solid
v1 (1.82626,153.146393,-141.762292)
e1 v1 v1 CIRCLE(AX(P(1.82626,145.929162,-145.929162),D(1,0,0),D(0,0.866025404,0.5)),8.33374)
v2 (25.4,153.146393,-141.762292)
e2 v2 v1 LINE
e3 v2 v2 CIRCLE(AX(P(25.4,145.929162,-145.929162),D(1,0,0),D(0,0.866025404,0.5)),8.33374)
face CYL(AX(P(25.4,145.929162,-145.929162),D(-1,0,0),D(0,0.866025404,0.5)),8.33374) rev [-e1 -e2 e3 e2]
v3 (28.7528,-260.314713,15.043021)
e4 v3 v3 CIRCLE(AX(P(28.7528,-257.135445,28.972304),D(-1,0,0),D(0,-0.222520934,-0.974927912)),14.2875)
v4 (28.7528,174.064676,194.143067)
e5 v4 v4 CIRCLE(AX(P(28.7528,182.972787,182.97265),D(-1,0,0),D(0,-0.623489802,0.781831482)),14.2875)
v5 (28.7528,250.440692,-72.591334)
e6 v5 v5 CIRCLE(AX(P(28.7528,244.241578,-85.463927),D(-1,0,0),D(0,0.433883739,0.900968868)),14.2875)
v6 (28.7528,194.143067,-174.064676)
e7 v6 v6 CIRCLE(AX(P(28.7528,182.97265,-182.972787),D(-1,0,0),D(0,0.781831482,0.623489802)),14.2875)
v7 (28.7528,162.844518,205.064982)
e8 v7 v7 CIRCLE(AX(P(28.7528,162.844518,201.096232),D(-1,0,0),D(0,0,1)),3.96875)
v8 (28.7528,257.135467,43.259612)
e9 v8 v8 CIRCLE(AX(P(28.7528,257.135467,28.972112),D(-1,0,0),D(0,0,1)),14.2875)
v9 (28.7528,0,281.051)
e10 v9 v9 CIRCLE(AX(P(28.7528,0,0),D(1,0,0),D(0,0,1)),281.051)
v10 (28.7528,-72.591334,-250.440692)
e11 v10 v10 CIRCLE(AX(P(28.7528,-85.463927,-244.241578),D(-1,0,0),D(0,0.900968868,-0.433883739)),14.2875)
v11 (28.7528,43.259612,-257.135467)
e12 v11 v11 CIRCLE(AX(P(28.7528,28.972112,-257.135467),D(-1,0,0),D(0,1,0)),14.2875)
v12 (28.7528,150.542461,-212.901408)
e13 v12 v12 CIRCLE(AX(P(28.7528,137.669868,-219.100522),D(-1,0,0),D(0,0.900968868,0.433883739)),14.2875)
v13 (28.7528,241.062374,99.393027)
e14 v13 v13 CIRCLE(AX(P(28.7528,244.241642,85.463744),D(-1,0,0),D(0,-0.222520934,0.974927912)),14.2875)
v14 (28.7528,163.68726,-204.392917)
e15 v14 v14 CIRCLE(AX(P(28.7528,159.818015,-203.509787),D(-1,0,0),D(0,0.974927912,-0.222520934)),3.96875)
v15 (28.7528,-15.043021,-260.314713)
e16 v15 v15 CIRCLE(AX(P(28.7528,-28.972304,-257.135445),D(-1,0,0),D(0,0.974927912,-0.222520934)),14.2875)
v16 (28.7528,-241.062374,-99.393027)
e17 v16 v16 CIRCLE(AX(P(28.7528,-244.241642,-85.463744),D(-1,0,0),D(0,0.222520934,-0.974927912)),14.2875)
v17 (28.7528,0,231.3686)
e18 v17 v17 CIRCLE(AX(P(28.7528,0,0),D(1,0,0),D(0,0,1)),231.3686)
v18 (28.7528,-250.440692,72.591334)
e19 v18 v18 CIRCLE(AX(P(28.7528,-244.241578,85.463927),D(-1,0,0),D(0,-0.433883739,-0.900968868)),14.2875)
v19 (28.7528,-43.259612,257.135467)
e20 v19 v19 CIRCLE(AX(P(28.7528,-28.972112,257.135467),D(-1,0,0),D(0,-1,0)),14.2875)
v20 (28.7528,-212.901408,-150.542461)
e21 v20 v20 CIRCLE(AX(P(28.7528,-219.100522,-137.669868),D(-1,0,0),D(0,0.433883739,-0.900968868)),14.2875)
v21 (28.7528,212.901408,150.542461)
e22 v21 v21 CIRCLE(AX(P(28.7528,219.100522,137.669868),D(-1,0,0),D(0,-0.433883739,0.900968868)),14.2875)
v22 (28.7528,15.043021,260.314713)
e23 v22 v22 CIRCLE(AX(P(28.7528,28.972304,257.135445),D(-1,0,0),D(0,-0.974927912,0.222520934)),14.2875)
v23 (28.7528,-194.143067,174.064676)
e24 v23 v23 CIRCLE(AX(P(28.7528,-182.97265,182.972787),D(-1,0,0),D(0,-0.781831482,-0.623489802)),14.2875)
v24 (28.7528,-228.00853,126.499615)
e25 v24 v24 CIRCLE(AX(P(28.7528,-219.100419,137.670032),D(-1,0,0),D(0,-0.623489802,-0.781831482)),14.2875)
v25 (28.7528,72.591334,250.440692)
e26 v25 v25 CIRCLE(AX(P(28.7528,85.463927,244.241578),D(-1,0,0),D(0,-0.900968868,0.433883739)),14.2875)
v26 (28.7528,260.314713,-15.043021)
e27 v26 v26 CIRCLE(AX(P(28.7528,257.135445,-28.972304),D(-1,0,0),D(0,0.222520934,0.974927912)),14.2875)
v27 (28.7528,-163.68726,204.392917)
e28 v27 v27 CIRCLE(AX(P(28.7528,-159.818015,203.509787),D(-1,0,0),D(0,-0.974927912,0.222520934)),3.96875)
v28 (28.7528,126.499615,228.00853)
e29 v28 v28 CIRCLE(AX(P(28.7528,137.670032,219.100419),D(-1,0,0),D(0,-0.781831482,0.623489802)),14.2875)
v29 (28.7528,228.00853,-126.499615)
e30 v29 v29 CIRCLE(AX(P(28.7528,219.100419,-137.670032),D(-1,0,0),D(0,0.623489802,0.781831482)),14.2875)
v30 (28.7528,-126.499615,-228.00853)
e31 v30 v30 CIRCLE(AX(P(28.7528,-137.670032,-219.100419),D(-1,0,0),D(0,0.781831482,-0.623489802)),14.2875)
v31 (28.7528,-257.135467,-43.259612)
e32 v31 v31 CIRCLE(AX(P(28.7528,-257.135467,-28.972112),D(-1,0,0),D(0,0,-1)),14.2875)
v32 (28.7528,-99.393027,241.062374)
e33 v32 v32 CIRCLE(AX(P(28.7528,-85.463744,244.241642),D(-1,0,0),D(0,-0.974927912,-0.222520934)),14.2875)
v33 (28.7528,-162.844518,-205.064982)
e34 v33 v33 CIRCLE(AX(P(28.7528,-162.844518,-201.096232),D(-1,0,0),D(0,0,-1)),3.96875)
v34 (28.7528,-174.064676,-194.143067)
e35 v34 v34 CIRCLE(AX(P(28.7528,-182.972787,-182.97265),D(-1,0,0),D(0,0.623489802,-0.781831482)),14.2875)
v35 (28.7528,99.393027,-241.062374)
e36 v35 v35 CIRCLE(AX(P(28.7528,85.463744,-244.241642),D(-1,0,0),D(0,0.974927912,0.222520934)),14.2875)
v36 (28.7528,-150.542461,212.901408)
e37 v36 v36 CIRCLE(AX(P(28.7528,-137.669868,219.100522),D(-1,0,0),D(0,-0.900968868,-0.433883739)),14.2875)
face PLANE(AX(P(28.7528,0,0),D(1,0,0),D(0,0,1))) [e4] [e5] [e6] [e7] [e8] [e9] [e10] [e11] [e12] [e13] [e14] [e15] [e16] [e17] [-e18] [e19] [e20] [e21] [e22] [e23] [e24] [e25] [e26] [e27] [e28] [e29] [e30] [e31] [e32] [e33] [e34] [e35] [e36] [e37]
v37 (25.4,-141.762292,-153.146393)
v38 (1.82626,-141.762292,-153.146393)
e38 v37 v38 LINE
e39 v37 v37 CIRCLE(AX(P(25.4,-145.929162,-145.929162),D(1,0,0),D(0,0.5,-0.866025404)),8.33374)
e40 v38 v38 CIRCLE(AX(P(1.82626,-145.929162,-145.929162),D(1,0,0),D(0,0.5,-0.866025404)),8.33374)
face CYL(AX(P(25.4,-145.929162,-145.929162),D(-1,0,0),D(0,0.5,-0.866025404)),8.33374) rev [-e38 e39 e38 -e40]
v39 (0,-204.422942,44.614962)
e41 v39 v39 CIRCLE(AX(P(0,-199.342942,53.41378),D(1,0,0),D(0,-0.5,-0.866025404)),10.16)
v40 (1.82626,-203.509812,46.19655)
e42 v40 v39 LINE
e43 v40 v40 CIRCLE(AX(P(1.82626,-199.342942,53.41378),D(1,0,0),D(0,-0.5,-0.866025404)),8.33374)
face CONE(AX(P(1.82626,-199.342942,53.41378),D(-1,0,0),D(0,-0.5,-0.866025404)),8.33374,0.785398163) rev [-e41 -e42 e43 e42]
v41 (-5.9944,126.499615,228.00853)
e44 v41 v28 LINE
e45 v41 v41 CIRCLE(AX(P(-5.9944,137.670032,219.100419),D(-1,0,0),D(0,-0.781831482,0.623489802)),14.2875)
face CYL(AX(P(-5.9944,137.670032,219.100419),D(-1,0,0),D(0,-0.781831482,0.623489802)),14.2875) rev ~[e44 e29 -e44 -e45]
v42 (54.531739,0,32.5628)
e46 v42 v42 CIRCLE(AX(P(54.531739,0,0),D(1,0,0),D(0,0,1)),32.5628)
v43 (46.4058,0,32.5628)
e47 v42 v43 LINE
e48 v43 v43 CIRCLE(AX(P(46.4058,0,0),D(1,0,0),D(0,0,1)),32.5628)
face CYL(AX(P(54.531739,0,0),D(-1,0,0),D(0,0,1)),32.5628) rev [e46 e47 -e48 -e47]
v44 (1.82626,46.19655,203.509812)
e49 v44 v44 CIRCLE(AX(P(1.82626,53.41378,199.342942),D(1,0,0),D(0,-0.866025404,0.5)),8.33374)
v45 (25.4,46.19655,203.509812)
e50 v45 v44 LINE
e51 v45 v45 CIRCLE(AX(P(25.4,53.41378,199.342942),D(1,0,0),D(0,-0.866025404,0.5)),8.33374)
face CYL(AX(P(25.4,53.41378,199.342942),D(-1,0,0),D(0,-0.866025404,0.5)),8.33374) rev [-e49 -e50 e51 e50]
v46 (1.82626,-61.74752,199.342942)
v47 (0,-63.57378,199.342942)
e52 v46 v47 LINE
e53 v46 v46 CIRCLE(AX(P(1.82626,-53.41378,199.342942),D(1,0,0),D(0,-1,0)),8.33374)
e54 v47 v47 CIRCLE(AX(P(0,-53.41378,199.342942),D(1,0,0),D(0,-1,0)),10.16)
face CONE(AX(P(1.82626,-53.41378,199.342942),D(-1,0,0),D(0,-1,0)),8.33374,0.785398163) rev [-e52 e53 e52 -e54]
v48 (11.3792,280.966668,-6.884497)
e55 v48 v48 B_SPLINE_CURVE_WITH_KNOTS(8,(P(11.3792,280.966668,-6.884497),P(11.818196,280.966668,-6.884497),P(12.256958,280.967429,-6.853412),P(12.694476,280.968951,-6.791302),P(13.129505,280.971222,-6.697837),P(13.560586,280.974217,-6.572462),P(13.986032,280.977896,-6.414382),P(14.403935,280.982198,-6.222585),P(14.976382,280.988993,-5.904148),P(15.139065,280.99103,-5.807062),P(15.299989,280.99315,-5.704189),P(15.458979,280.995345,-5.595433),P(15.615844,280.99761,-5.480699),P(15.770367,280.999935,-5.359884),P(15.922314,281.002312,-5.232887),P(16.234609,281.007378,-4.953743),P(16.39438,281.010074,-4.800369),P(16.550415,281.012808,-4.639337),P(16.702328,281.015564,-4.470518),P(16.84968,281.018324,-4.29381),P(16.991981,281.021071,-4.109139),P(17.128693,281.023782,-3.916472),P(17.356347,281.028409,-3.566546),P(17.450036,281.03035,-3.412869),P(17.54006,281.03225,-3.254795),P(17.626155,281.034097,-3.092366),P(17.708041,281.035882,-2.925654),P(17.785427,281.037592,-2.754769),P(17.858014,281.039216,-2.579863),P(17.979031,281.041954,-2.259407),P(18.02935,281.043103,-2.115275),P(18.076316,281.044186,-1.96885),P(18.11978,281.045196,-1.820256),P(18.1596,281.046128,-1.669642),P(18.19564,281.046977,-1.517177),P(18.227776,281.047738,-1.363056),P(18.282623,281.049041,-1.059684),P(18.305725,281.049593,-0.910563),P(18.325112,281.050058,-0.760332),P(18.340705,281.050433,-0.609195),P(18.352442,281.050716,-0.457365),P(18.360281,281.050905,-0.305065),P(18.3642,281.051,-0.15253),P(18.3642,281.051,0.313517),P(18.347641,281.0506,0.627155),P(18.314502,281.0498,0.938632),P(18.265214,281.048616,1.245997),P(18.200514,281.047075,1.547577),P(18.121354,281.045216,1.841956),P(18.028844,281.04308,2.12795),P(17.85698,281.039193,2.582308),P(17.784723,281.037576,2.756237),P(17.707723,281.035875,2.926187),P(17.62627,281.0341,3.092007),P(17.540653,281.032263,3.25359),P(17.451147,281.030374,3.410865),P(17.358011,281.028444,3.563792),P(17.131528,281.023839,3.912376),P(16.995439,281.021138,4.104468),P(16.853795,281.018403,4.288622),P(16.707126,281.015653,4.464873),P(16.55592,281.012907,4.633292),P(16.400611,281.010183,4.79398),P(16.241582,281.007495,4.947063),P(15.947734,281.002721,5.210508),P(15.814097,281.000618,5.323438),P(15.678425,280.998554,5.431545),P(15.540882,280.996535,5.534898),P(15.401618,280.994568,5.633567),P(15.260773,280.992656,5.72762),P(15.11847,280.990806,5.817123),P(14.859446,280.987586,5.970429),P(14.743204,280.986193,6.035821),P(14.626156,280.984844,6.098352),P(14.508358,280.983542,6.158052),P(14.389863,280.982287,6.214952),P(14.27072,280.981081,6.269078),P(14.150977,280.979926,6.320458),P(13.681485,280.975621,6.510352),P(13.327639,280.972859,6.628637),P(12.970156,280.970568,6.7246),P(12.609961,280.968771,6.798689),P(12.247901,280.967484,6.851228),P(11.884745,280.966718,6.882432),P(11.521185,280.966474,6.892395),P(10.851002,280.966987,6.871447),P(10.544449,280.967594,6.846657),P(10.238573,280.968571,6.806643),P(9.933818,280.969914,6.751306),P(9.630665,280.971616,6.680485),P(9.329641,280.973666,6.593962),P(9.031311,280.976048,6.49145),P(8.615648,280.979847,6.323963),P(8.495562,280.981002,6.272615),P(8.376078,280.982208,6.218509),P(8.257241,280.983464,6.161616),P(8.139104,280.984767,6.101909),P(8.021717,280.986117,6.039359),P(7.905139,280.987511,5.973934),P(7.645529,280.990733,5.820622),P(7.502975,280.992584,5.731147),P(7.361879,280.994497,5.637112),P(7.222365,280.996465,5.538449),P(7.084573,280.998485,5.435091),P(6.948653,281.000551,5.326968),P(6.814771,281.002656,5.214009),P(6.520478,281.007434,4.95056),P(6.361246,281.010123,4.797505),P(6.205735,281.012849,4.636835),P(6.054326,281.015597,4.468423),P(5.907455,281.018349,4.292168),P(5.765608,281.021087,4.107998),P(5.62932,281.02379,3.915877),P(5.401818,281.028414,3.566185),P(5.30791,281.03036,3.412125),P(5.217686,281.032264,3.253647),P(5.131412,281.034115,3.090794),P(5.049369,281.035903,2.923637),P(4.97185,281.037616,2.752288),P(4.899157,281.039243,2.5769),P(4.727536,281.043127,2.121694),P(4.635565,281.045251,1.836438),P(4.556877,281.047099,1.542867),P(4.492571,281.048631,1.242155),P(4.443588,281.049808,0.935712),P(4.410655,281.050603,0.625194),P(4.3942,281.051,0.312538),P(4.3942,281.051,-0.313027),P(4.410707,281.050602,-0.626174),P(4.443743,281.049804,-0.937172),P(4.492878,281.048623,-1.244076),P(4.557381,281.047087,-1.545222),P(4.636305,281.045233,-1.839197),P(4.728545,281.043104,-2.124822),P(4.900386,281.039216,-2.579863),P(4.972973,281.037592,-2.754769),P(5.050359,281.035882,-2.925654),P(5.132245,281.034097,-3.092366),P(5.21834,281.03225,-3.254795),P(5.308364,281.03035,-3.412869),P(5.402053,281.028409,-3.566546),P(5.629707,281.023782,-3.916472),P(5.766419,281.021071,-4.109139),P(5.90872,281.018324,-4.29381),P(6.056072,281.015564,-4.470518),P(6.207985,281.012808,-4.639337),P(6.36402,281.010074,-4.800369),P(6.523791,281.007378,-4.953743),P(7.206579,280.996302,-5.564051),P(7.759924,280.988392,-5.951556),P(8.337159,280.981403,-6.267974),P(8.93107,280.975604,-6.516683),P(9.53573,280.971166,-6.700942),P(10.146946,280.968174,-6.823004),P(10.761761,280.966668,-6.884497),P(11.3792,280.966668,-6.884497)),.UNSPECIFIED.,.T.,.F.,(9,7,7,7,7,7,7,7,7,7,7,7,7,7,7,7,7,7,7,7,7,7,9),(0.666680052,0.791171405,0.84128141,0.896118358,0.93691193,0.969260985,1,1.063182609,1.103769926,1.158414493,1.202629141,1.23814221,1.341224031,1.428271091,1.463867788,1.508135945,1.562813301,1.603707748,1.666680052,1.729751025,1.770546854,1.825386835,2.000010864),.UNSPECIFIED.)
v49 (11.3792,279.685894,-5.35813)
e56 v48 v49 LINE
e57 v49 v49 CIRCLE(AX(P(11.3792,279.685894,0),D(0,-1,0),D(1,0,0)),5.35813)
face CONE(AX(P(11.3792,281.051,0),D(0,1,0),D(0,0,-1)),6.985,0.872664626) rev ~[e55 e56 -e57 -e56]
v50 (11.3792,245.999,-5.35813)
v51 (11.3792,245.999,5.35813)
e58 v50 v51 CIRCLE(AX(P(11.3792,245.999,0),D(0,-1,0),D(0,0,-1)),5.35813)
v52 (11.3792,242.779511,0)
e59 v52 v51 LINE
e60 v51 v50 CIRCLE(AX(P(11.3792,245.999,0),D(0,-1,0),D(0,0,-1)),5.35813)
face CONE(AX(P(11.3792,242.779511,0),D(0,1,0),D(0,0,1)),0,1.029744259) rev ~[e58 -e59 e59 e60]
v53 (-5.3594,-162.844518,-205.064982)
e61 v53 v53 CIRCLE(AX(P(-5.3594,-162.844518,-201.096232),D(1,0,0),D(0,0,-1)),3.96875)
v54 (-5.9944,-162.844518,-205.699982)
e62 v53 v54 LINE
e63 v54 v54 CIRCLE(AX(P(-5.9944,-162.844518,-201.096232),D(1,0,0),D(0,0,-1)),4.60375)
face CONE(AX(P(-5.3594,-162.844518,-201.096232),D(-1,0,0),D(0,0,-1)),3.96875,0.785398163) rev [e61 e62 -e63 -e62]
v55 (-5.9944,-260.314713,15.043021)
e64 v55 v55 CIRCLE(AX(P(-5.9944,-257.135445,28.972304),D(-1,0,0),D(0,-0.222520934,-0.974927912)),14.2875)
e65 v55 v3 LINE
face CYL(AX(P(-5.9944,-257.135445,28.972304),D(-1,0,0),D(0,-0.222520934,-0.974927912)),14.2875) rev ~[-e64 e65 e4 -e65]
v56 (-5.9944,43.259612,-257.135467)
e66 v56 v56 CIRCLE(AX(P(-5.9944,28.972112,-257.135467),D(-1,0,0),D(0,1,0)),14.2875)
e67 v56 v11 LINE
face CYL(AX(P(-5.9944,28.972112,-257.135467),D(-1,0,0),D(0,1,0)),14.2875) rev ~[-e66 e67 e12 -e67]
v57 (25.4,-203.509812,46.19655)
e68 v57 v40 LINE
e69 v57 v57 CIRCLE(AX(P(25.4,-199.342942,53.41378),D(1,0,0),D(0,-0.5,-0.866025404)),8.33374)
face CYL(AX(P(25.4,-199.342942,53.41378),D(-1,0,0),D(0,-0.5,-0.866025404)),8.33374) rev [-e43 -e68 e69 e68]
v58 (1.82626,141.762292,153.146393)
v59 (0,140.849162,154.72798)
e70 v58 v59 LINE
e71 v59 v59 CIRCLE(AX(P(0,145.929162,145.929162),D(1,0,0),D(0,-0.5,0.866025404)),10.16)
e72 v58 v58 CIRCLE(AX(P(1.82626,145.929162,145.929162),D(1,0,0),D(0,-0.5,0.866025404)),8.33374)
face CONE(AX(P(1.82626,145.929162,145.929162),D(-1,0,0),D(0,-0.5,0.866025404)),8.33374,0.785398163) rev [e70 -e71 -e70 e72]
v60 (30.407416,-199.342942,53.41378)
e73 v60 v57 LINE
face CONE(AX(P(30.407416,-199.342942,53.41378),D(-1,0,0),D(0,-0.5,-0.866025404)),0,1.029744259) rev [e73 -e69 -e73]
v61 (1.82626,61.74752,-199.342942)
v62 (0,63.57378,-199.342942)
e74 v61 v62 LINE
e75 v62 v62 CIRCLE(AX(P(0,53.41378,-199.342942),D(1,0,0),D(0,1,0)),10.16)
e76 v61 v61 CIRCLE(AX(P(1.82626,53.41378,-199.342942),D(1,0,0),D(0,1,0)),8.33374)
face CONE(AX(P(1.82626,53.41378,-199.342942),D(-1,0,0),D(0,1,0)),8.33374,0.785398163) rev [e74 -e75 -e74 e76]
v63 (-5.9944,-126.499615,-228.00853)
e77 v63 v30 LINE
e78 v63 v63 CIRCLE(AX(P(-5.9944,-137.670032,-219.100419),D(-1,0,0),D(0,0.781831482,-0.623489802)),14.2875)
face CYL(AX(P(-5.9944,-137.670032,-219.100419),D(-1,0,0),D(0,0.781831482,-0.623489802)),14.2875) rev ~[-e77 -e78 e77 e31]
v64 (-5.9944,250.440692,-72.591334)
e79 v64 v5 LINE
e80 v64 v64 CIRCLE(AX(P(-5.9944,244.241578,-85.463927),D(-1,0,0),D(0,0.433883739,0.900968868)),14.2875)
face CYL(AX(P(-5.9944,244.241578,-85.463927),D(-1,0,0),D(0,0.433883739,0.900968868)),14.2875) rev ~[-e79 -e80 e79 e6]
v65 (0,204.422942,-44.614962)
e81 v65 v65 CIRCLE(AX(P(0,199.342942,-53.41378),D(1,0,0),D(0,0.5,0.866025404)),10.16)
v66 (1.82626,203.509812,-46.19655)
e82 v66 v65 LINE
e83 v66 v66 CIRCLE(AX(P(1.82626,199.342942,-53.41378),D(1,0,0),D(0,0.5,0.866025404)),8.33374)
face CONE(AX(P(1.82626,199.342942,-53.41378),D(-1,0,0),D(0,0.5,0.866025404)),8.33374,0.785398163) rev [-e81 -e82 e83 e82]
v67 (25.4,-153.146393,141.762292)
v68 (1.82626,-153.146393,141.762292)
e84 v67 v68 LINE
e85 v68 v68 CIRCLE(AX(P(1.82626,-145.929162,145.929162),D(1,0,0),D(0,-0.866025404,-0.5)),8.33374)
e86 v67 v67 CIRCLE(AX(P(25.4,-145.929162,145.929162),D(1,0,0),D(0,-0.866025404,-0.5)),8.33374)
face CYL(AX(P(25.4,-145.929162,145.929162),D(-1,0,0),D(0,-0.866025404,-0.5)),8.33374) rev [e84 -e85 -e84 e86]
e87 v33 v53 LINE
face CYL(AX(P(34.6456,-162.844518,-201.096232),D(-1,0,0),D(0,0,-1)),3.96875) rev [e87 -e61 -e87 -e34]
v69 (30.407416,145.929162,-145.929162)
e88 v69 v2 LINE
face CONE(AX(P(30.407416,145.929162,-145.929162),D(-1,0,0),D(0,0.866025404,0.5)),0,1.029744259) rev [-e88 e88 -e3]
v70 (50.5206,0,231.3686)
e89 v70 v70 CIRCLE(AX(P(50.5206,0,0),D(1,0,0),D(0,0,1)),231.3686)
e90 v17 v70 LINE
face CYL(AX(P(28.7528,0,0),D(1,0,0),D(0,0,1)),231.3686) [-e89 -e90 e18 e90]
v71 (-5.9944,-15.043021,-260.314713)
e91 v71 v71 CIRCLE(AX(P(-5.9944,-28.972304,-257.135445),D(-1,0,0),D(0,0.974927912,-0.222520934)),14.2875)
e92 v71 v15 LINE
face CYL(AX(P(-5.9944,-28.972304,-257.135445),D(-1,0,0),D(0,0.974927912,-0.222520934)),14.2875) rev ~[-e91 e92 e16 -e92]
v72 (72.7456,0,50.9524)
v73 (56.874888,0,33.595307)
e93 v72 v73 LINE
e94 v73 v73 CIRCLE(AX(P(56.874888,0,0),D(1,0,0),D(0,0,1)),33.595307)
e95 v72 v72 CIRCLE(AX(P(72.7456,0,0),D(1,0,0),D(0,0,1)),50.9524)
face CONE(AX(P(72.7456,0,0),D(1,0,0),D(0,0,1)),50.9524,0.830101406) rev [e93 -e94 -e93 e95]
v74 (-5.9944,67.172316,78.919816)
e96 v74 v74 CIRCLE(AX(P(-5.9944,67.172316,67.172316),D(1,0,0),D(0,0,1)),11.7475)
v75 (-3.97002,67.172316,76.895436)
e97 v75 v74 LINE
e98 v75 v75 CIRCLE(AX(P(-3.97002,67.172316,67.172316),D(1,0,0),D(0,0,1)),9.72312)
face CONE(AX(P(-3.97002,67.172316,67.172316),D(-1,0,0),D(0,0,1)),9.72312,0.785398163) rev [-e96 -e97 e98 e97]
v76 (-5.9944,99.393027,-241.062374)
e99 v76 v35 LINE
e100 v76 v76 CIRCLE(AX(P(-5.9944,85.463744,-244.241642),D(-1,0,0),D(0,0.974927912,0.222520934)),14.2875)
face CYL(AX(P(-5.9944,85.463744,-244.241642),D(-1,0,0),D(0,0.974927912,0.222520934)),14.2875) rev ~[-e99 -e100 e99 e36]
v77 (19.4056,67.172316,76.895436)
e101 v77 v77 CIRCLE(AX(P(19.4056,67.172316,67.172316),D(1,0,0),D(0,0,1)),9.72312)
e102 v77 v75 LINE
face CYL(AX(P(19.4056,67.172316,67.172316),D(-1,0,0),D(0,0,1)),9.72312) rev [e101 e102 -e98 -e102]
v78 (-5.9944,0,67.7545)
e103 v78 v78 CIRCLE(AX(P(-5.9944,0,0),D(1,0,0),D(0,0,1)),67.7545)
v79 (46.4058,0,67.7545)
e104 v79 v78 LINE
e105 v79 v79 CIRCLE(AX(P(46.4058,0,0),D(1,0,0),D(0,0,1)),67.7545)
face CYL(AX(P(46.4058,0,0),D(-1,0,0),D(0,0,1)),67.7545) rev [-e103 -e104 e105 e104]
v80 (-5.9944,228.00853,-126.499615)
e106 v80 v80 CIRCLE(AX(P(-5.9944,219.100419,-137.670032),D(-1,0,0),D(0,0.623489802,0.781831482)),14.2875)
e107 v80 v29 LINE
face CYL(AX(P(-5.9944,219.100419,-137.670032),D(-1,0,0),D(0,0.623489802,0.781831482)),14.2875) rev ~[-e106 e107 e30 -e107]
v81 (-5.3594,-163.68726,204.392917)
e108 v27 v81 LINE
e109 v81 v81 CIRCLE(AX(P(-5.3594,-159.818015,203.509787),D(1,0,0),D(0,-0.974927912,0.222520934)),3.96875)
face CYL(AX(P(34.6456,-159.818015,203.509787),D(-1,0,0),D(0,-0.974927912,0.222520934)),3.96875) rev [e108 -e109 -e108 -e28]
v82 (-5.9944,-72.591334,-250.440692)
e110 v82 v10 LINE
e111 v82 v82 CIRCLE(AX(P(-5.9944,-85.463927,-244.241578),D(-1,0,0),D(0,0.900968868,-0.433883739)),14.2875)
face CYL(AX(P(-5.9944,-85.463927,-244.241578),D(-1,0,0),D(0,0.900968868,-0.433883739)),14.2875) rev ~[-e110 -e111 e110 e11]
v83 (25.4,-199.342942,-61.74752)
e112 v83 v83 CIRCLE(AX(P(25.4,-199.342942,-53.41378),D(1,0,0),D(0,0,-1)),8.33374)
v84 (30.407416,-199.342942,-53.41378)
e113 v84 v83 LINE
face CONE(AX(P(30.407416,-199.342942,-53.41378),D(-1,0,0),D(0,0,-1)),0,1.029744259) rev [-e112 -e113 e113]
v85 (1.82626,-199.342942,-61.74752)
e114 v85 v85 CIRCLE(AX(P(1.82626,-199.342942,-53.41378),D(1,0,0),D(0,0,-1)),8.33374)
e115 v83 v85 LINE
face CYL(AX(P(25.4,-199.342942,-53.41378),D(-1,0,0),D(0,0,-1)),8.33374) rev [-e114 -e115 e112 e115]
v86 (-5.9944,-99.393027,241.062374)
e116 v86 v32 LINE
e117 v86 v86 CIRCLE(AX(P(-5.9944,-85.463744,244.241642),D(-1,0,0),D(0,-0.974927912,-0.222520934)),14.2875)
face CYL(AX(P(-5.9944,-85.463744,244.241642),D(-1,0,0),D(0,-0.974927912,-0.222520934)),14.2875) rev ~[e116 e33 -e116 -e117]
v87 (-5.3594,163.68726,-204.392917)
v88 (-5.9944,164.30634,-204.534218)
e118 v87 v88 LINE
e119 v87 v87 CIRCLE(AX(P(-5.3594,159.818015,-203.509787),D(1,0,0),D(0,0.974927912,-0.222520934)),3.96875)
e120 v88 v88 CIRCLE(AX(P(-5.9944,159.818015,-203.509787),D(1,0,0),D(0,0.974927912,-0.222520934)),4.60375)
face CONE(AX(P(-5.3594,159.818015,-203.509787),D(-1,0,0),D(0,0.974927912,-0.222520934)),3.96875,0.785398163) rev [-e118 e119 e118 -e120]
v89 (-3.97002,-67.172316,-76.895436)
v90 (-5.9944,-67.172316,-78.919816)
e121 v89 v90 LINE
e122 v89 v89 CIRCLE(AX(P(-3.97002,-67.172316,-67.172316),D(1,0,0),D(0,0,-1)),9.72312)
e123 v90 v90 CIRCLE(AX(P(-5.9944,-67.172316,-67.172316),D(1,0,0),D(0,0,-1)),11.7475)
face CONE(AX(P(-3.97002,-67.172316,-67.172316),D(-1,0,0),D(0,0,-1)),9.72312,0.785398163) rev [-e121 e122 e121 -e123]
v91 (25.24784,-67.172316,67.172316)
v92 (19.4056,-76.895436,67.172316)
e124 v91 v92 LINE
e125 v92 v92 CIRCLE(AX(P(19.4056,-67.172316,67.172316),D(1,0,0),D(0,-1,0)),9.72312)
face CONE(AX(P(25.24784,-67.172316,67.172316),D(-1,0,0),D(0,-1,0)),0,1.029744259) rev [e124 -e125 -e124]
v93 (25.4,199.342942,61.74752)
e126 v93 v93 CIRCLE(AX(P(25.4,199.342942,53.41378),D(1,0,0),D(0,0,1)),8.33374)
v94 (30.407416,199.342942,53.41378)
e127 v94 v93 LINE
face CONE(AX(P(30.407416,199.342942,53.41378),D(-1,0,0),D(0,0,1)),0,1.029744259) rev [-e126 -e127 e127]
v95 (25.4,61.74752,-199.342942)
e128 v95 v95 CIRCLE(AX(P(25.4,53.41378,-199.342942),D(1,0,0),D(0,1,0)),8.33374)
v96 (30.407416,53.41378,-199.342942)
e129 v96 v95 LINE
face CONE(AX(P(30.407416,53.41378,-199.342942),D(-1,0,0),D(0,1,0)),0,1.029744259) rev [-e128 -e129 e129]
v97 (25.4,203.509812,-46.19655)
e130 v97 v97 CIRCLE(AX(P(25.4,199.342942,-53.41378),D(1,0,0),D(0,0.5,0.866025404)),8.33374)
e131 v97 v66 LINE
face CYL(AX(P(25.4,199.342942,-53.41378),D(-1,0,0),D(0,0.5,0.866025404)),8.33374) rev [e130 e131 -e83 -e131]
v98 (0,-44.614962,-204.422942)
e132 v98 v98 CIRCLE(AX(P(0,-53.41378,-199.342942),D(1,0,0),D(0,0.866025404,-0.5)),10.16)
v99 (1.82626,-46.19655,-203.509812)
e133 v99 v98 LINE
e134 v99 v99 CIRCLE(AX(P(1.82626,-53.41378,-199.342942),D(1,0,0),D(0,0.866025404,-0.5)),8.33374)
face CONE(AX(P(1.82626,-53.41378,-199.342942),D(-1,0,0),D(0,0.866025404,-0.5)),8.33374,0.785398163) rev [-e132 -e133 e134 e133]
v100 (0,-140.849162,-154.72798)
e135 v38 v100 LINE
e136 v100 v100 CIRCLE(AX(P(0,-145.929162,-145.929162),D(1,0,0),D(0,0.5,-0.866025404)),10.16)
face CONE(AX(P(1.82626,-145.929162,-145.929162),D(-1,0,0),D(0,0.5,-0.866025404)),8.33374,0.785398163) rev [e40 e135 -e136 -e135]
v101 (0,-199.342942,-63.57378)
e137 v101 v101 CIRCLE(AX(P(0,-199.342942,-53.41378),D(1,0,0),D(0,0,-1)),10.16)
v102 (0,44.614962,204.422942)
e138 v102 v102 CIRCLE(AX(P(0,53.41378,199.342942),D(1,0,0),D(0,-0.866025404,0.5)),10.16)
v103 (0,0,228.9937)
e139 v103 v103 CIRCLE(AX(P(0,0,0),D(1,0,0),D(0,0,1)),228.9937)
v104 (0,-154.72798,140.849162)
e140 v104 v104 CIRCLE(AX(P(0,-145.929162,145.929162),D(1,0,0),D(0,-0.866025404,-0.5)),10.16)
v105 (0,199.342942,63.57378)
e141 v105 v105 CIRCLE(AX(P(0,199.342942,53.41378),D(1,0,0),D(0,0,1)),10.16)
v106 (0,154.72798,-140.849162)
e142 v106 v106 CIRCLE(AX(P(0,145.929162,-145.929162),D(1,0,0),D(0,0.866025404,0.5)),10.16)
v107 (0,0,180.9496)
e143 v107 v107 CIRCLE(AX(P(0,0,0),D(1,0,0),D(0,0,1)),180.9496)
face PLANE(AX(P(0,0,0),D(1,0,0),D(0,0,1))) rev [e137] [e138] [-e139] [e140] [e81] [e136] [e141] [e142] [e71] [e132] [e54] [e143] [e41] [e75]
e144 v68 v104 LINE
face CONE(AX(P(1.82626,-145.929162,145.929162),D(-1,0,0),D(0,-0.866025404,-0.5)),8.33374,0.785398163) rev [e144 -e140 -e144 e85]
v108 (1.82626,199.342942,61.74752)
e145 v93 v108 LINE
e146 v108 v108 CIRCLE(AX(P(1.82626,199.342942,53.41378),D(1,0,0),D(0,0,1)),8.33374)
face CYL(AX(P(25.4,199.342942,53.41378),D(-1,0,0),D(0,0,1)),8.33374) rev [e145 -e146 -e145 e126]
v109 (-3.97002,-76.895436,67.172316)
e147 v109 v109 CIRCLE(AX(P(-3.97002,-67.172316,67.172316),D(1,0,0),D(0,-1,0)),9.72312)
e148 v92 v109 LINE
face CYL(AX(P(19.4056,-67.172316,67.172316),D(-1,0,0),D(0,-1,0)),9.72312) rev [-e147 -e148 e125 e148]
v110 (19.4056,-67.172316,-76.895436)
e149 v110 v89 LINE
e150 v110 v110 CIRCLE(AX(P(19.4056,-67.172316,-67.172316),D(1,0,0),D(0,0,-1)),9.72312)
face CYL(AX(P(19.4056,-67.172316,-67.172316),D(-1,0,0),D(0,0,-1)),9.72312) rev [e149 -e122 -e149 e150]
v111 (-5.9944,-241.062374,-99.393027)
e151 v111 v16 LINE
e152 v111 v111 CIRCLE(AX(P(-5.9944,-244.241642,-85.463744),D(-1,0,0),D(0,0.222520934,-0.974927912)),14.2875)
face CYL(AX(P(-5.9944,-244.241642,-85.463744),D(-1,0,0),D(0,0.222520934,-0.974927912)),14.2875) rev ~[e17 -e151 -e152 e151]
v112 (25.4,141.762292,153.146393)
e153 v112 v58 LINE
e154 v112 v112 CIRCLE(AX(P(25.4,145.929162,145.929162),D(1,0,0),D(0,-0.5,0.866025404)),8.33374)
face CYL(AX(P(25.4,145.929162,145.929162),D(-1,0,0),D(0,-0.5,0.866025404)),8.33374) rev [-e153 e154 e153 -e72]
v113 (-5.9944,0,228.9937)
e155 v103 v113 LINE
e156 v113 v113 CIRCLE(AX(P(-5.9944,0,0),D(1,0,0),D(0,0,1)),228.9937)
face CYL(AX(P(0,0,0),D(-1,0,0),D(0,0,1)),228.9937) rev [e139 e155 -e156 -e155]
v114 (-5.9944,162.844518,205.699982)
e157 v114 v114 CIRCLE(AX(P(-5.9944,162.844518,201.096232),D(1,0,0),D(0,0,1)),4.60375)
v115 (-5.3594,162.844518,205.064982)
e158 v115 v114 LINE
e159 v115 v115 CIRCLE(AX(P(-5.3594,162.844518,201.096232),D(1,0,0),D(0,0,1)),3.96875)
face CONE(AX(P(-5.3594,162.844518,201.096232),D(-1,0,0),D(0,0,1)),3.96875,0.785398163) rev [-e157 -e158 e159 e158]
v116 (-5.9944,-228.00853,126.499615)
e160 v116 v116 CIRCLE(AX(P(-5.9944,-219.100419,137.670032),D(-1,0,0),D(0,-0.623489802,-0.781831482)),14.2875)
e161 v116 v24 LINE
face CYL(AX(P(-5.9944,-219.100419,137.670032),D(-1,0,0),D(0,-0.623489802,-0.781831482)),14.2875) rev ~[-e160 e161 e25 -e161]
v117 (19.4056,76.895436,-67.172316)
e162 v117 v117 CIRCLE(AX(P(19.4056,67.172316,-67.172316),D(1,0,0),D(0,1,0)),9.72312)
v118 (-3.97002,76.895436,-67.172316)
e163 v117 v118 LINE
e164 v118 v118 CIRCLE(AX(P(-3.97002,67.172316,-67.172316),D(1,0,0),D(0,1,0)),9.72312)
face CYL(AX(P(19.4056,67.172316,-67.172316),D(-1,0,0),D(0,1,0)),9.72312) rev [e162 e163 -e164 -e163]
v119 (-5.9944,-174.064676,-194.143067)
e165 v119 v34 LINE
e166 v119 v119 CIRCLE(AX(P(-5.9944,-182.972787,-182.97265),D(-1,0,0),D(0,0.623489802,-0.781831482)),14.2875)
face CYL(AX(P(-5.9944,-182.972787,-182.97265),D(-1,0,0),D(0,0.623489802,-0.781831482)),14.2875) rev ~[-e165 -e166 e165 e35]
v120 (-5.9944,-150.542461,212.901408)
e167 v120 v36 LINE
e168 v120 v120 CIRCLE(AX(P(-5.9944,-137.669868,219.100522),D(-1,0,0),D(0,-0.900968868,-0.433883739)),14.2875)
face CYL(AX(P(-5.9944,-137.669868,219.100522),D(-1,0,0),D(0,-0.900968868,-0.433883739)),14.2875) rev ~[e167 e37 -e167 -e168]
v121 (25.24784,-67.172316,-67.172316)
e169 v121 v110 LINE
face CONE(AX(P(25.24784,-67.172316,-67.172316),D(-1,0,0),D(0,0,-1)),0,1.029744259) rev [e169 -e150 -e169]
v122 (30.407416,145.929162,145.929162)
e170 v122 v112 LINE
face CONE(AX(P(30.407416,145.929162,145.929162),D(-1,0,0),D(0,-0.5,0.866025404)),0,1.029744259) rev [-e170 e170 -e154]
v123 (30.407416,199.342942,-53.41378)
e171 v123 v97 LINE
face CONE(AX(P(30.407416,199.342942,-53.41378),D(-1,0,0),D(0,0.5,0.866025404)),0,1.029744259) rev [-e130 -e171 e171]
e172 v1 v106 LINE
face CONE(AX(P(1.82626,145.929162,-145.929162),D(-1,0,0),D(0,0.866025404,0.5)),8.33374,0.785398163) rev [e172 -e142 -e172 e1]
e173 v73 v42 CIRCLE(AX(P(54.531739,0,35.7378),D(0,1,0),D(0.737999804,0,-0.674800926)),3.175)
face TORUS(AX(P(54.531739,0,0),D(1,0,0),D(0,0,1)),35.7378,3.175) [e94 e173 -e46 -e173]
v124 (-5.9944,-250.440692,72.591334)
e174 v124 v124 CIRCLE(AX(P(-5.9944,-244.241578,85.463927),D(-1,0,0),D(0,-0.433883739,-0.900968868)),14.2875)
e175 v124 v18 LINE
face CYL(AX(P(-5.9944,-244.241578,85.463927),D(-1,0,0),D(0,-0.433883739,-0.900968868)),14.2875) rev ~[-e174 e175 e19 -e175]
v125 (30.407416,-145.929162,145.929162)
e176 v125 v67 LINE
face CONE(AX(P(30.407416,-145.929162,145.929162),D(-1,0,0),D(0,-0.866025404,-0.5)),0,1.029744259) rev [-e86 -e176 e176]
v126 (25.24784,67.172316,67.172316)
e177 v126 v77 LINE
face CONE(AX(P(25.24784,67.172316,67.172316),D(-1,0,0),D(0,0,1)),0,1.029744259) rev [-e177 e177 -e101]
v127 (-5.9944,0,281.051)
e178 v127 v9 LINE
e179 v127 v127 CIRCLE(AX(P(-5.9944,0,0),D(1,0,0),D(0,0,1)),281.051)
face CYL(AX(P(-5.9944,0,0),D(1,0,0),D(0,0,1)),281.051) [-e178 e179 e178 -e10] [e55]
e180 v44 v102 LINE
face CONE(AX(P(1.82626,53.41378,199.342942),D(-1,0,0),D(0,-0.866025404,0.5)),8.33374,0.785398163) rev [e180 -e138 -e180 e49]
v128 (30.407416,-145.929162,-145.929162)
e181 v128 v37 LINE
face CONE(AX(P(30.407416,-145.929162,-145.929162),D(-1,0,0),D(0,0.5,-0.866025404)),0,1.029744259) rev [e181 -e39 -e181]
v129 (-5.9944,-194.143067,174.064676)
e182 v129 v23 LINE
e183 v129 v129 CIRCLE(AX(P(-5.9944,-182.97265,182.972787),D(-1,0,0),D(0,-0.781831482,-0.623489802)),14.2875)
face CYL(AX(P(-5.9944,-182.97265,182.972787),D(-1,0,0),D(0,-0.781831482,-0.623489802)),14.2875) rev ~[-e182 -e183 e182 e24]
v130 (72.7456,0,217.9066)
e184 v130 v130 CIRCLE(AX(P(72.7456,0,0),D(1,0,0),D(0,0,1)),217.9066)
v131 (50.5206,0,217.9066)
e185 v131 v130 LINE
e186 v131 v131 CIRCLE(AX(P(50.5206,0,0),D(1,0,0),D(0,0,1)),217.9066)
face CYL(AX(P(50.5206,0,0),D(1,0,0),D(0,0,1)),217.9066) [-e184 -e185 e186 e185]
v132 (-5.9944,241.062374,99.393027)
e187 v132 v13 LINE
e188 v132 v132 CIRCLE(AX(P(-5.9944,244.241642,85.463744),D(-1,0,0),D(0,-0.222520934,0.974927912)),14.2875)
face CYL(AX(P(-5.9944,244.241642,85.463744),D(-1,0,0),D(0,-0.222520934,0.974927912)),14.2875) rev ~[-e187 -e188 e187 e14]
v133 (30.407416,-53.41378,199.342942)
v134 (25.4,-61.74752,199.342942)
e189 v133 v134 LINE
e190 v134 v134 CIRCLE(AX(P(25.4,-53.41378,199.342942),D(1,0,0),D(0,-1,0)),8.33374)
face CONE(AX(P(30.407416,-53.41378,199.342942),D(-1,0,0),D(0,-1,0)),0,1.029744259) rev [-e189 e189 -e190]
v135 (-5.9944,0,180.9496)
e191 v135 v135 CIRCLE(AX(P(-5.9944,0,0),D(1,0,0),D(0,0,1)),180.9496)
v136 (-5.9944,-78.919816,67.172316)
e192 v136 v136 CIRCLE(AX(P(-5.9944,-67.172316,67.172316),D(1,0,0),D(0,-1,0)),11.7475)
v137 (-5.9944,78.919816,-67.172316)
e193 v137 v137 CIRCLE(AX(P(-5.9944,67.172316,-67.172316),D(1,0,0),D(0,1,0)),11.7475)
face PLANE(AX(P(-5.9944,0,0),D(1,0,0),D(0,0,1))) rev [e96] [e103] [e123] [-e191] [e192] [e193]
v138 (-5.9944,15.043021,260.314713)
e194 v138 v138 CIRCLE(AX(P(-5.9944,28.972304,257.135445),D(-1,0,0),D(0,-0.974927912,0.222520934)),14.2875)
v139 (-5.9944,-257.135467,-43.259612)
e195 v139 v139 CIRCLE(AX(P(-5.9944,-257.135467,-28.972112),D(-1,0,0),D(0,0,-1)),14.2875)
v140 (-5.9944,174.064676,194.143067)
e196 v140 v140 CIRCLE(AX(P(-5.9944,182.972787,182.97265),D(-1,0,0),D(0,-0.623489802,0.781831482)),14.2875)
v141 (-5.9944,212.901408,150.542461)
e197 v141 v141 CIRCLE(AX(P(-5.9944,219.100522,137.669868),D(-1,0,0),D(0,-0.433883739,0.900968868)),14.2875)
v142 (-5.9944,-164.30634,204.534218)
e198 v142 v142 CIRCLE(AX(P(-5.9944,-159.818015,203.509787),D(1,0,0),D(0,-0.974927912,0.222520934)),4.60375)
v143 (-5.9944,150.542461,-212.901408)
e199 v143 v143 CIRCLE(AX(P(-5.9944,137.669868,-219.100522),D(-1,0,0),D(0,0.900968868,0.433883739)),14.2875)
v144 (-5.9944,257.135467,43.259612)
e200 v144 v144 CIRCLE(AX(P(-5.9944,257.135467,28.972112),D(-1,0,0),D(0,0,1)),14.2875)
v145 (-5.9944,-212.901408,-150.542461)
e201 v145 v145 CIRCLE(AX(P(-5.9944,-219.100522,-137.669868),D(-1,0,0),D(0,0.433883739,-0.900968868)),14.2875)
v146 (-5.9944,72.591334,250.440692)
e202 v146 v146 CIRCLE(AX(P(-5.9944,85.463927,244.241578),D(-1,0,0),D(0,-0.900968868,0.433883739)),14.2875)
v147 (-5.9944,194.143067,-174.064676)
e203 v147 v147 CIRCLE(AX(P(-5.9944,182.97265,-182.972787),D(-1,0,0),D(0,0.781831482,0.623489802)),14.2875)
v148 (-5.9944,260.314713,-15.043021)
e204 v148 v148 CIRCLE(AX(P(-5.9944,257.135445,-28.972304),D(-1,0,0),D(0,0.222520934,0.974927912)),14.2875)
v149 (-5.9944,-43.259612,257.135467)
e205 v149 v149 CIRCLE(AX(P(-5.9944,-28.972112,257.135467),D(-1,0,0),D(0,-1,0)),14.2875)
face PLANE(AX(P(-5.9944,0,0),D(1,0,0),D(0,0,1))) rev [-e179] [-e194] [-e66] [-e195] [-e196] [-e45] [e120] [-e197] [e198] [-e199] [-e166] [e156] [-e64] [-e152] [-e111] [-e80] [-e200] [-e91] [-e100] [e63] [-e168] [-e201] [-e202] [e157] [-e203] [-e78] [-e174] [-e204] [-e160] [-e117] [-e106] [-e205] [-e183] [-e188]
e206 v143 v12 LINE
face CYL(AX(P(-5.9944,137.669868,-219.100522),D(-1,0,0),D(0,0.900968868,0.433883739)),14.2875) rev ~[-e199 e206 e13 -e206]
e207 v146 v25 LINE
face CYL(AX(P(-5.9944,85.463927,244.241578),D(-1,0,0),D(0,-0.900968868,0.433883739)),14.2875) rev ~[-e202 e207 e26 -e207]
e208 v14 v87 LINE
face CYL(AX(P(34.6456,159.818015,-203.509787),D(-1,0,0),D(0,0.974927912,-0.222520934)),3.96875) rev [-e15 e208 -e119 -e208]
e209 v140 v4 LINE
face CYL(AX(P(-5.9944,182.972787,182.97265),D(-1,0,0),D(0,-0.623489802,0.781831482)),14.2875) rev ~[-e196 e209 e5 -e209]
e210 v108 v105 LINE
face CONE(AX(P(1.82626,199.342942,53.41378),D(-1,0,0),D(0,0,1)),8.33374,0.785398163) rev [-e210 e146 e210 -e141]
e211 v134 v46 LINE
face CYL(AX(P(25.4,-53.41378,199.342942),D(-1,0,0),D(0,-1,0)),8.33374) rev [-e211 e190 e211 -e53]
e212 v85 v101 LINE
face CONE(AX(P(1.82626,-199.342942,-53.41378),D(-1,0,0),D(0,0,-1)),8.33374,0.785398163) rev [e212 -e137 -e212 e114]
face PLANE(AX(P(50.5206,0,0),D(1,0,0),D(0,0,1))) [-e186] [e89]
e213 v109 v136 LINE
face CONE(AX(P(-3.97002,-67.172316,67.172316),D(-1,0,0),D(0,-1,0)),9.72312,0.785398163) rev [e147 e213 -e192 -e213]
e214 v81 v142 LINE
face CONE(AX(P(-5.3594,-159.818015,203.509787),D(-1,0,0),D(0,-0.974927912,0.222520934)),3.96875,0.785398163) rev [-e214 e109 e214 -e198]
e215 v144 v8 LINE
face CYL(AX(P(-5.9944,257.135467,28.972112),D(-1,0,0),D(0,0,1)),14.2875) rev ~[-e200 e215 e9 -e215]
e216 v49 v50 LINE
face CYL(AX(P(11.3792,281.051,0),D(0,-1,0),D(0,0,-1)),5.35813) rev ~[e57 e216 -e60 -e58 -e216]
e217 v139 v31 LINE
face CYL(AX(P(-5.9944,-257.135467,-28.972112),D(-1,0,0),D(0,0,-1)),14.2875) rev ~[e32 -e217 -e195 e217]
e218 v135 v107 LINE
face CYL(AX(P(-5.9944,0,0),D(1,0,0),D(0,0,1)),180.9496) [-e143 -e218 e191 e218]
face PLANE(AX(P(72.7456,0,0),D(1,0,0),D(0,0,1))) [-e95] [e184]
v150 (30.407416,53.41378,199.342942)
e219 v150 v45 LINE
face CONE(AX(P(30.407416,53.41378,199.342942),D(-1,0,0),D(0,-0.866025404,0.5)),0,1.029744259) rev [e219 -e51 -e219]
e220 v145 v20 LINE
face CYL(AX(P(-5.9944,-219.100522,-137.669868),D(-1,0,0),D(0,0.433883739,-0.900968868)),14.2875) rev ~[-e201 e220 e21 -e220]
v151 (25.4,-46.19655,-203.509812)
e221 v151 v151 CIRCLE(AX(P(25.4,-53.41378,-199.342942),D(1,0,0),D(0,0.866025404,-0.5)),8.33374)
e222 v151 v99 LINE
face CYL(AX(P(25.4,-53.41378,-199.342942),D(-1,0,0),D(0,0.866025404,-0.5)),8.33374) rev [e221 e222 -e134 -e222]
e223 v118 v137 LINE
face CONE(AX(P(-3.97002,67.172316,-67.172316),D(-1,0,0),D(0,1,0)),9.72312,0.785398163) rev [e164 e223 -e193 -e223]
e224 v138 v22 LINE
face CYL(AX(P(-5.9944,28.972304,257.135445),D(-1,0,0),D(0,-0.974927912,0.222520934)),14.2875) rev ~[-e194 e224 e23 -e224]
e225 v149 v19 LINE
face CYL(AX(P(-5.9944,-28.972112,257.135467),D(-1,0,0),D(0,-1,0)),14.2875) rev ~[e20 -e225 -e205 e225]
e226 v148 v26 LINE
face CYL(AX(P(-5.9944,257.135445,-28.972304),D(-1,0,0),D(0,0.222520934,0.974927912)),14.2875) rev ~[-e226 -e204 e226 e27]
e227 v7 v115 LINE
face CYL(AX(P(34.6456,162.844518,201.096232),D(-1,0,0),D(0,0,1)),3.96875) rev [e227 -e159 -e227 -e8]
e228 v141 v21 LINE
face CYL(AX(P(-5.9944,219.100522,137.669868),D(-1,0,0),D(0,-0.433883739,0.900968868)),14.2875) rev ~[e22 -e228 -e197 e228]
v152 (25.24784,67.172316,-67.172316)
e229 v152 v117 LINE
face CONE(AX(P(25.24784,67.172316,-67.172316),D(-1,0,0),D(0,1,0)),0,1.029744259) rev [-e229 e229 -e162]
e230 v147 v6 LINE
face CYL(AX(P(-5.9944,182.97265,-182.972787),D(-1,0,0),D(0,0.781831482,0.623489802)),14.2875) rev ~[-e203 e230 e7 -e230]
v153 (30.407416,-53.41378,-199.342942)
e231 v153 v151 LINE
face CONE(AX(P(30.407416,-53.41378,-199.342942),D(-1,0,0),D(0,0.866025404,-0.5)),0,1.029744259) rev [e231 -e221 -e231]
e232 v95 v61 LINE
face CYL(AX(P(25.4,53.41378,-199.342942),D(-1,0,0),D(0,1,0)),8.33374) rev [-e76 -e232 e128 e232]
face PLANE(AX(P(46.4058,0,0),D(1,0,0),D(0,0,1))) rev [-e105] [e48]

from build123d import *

# Parameters (mm, degrees)
SKETCH4_R                         = 14.2875
CUT_EXTRUDE1_DEPTH                = 406.190469782
CIRPATTERN2_COUNT                 = 28
CIRPATTERN3_COUNT                 = 12
CIRPATTERN4_COUNT                 = 4
CIRPATTERN5_COUNT                 = 56
F_1_2_13_TAPPED_HOLE4_D           = 10.71626
F_1_2_13_TAPPED_HOLE4_DEPTH       = 35.052
F_1_2_13_TAPPED_HOLE4_CSINK_D     = 13.97
F_1_2_13_TAPPED_HOLE4_CSINK_ANGLE = 100
F_1_2_13_TAPPED_HOLE4_TIP         = 3.219489309


with BuildPart() as part:
    # Sketch1 → Revolve1 (revolve)
    with BuildSketch(Plane.XY, mode=Mode.PRIVATE) as revolve1_sk:
        with BuildLine():
            Line((-5.9944, 67.7545), (-5.9944, 180.9496))
            Line((-5.9944, 180.9496), (0, 180.9496))
            Line((0, 180.9496), (0, 228.9937))
            Line((0, 228.9937), (-5.9944, 228.9937))
            Line((-5.9944, 228.9937), (-5.9944, 281.051))
            Line((-5.9944, 281.051), (28.7528, 281.051))
            Line((28.7528, 281.051), (28.7528, 231.3686))
            Line((28.7528, 231.3686), (50.5206, 231.3686))
            Line((50.5206, 231.3686), (50.5206, 217.9066))
            Line((50.5206, 217.9066), (72.7456, 217.9066))
            Line((72.7456, 217.9066), (72.7456, 50.9524))
            Line((72.7456, 50.9524), (56.874887948, 33.595307061))
            ThreePointArc((56.874887948, 33.595307061), (55.812013915, 32.832370593), (54.53173857, 32.5628))
            Line((54.53173857, 32.5628), (46.4058, 32.5628))
            Line((46.4058, 32.5628), (46.4058, 67.7545))
            Line((46.4058, 67.7545), (-5.9944, 67.7545))
        make_face()
    revolve(revolve1_sk.sketch.rotate(Axis((0, 0, 0), (1, 0, 0)), 90), axis=Axis((0, 0, 0), (1, 0, 0)))

    # Sketch4 → Cut-Extrude1 (cut, through all)
    with BuildSketch(Plane.ZY.offset(5.9944)):
        with Locations((28.972111579, 257.135466548)):
            Circle(SKETCH4_R)
    cut_extrude1 = extrude(amount=-CUT_EXTRUDE1_DEPTH, mode=Mode.SUBTRACT)

    # CirPattern2: Cut-Extrude1 ×28 about axis
    cirpattern2_axis = Axis((0, 0, 0), (1, 0, 0))
    for i in range(1, CIRPATTERN2_COUNT):
        add(cut_extrude1.rotate(cirpattern2_axis, i * 360 / CIRPATTERN2_COUNT), mode=Mode.SUBTRACT)

    # Sketch8 → 3/4-10 Tapped Hole1 (revolve, cut)
    with BuildSketch(Plane(origin=(0, 199.3429424, 53.413780433), x_dir=(0, 0, 1), z_dir=(0, 1, 0))):
        Polygon((0, 0), (0, 30.407416175), (8.33374, 25.4), (8.33374, 1.82626), (10.16, 0), align=None)
    f_3_4_10_tapped_hole1 = revolve(axis=Axis((-6.35, 199.3429424, 53.413780433), (1, 0, 0)), mode=Mode.SUBTRACT)

    # CirPattern3: 3/4-10 Tapped Hole1 ×12 about axis
    cirpattern3_axis = Axis((0, 0, 0), (1, 0, 0))
    for i in range(1, CIRPATTERN3_COUNT):
        add(f_3_4_10_tapped_hole1.rotate(cirpattern3_axis, i * 360 / CIRPATTERN3_COUNT), mode=Mode.SUBTRACT)

    # Sketch10 → 7/8-9 Tapped Hole1 (revolve, cut)
    with BuildSketch(Plane(origin=(-5.9944, 67.172315786, 67.172315786), x_dir=(0, 0, 1), z_dir=(0, 1, 0))):
        Polygon((0, 0), (0, 31.242239902), (9.72312, 25.4), (9.72312, 2.02438), (11.7475, 0), align=None)
    f_7_8_9_tapped_hole1 = revolve(axis=Axis((-12.3444, 67.172315786, 67.172315786), (1, 0, 0)), mode=Mode.SUBTRACT)

    # CirPattern4: 7/8-9 Tapped Hole1 ×4 about axis
    cirpattern4_axis = Axis((0, 0, 0), (1, 0, 0))
    for i in range(1, CIRPATTERN4_COUNT):
        add(f_7_8_9_tapped_hole1.rotate(cirpattern4_axis, i * 360 / CIRPATTERN4_COUNT), mode=Mode.SUBTRACT)

    # Sketch21 → Tap Drill for 3/8-16 Tap1 (revolve, cut)
    with BuildSketch(Plane(origin=(-5.9944, 162.844517689, 201.096231852), x_dir=(0, 0, 1), z_dir=(0, 1, 0))):
        Polygon((0, 0), (0, 43.024665582), (3.96875, 40.64), (3.96875, 0.635), (4.60375, 0), align=None)
    tap_drill_for_3_8_16_tap1 = revolve(axis=Axis((-12.3444, 162.844517689, 201.096231852), (1, 0, 0)), mode=Mode.SUBTRACT)

    # CirPattern5: Tap Drill for 3/8-16 Tap1 ×56 about axis, 52 skipped
    cirpattern5_axis = Axis((0, 0, 0), (-1, 0, 0))
    add([tap_drill_for_3_8_16_tap1.rotate(cirpattern5_axis, i * 360 / CIRPATTERN5_COUNT) for i in range(1, CIRPATTERN5_COUNT) if i not in (1, 2, 3, 4, 5, 6, 7, 8, 9, 10, 11, 12, 13, 14, 15, 17, 18, 19, 20, 21, 22, 23, 24, 25, 26, 27, 29, 30, 31, 32, 33, 34, 35, 36, 37, 38, 39, 40, 41, 42, 43, 45, 46, 47, 48, 49, 50, 51, 52, 53, 54, 55)], mode=Mode.SUBTRACT)

    # 1/2-13 Tapped Hole4
    with Locations(Plane(origin=(11.3792, 281.051, 0), x_dir=(0, 0, 1), z_dir=(0, 1, 0))):
        with Locations((0, 0)):
            CounterSinkHole(F_1_2_13_TAPPED_HOLE4_D / 2, F_1_2_13_TAPPED_HOLE4_CSINK_D / 2, depth=F_1_2_13_TAPPED_HOLE4_DEPTH, counter_sink_angle=F_1_2_13_TAPPED_HOLE4_CSINK_ANGLE)
            with Locations((0, 0, -(F_1_2_13_TAPPED_HOLE4_DEPTH + F_1_2_13_TAPPED_HOLE4_TIP / 2))):  # 118° drill point
                Cone(0, F_1_2_13_TAPPED_HOLE4_D / 2, F_1_2_13_TAPPED_HOLE4_TIP, mode=Mode.SUBTRACT)


solid = part.part
